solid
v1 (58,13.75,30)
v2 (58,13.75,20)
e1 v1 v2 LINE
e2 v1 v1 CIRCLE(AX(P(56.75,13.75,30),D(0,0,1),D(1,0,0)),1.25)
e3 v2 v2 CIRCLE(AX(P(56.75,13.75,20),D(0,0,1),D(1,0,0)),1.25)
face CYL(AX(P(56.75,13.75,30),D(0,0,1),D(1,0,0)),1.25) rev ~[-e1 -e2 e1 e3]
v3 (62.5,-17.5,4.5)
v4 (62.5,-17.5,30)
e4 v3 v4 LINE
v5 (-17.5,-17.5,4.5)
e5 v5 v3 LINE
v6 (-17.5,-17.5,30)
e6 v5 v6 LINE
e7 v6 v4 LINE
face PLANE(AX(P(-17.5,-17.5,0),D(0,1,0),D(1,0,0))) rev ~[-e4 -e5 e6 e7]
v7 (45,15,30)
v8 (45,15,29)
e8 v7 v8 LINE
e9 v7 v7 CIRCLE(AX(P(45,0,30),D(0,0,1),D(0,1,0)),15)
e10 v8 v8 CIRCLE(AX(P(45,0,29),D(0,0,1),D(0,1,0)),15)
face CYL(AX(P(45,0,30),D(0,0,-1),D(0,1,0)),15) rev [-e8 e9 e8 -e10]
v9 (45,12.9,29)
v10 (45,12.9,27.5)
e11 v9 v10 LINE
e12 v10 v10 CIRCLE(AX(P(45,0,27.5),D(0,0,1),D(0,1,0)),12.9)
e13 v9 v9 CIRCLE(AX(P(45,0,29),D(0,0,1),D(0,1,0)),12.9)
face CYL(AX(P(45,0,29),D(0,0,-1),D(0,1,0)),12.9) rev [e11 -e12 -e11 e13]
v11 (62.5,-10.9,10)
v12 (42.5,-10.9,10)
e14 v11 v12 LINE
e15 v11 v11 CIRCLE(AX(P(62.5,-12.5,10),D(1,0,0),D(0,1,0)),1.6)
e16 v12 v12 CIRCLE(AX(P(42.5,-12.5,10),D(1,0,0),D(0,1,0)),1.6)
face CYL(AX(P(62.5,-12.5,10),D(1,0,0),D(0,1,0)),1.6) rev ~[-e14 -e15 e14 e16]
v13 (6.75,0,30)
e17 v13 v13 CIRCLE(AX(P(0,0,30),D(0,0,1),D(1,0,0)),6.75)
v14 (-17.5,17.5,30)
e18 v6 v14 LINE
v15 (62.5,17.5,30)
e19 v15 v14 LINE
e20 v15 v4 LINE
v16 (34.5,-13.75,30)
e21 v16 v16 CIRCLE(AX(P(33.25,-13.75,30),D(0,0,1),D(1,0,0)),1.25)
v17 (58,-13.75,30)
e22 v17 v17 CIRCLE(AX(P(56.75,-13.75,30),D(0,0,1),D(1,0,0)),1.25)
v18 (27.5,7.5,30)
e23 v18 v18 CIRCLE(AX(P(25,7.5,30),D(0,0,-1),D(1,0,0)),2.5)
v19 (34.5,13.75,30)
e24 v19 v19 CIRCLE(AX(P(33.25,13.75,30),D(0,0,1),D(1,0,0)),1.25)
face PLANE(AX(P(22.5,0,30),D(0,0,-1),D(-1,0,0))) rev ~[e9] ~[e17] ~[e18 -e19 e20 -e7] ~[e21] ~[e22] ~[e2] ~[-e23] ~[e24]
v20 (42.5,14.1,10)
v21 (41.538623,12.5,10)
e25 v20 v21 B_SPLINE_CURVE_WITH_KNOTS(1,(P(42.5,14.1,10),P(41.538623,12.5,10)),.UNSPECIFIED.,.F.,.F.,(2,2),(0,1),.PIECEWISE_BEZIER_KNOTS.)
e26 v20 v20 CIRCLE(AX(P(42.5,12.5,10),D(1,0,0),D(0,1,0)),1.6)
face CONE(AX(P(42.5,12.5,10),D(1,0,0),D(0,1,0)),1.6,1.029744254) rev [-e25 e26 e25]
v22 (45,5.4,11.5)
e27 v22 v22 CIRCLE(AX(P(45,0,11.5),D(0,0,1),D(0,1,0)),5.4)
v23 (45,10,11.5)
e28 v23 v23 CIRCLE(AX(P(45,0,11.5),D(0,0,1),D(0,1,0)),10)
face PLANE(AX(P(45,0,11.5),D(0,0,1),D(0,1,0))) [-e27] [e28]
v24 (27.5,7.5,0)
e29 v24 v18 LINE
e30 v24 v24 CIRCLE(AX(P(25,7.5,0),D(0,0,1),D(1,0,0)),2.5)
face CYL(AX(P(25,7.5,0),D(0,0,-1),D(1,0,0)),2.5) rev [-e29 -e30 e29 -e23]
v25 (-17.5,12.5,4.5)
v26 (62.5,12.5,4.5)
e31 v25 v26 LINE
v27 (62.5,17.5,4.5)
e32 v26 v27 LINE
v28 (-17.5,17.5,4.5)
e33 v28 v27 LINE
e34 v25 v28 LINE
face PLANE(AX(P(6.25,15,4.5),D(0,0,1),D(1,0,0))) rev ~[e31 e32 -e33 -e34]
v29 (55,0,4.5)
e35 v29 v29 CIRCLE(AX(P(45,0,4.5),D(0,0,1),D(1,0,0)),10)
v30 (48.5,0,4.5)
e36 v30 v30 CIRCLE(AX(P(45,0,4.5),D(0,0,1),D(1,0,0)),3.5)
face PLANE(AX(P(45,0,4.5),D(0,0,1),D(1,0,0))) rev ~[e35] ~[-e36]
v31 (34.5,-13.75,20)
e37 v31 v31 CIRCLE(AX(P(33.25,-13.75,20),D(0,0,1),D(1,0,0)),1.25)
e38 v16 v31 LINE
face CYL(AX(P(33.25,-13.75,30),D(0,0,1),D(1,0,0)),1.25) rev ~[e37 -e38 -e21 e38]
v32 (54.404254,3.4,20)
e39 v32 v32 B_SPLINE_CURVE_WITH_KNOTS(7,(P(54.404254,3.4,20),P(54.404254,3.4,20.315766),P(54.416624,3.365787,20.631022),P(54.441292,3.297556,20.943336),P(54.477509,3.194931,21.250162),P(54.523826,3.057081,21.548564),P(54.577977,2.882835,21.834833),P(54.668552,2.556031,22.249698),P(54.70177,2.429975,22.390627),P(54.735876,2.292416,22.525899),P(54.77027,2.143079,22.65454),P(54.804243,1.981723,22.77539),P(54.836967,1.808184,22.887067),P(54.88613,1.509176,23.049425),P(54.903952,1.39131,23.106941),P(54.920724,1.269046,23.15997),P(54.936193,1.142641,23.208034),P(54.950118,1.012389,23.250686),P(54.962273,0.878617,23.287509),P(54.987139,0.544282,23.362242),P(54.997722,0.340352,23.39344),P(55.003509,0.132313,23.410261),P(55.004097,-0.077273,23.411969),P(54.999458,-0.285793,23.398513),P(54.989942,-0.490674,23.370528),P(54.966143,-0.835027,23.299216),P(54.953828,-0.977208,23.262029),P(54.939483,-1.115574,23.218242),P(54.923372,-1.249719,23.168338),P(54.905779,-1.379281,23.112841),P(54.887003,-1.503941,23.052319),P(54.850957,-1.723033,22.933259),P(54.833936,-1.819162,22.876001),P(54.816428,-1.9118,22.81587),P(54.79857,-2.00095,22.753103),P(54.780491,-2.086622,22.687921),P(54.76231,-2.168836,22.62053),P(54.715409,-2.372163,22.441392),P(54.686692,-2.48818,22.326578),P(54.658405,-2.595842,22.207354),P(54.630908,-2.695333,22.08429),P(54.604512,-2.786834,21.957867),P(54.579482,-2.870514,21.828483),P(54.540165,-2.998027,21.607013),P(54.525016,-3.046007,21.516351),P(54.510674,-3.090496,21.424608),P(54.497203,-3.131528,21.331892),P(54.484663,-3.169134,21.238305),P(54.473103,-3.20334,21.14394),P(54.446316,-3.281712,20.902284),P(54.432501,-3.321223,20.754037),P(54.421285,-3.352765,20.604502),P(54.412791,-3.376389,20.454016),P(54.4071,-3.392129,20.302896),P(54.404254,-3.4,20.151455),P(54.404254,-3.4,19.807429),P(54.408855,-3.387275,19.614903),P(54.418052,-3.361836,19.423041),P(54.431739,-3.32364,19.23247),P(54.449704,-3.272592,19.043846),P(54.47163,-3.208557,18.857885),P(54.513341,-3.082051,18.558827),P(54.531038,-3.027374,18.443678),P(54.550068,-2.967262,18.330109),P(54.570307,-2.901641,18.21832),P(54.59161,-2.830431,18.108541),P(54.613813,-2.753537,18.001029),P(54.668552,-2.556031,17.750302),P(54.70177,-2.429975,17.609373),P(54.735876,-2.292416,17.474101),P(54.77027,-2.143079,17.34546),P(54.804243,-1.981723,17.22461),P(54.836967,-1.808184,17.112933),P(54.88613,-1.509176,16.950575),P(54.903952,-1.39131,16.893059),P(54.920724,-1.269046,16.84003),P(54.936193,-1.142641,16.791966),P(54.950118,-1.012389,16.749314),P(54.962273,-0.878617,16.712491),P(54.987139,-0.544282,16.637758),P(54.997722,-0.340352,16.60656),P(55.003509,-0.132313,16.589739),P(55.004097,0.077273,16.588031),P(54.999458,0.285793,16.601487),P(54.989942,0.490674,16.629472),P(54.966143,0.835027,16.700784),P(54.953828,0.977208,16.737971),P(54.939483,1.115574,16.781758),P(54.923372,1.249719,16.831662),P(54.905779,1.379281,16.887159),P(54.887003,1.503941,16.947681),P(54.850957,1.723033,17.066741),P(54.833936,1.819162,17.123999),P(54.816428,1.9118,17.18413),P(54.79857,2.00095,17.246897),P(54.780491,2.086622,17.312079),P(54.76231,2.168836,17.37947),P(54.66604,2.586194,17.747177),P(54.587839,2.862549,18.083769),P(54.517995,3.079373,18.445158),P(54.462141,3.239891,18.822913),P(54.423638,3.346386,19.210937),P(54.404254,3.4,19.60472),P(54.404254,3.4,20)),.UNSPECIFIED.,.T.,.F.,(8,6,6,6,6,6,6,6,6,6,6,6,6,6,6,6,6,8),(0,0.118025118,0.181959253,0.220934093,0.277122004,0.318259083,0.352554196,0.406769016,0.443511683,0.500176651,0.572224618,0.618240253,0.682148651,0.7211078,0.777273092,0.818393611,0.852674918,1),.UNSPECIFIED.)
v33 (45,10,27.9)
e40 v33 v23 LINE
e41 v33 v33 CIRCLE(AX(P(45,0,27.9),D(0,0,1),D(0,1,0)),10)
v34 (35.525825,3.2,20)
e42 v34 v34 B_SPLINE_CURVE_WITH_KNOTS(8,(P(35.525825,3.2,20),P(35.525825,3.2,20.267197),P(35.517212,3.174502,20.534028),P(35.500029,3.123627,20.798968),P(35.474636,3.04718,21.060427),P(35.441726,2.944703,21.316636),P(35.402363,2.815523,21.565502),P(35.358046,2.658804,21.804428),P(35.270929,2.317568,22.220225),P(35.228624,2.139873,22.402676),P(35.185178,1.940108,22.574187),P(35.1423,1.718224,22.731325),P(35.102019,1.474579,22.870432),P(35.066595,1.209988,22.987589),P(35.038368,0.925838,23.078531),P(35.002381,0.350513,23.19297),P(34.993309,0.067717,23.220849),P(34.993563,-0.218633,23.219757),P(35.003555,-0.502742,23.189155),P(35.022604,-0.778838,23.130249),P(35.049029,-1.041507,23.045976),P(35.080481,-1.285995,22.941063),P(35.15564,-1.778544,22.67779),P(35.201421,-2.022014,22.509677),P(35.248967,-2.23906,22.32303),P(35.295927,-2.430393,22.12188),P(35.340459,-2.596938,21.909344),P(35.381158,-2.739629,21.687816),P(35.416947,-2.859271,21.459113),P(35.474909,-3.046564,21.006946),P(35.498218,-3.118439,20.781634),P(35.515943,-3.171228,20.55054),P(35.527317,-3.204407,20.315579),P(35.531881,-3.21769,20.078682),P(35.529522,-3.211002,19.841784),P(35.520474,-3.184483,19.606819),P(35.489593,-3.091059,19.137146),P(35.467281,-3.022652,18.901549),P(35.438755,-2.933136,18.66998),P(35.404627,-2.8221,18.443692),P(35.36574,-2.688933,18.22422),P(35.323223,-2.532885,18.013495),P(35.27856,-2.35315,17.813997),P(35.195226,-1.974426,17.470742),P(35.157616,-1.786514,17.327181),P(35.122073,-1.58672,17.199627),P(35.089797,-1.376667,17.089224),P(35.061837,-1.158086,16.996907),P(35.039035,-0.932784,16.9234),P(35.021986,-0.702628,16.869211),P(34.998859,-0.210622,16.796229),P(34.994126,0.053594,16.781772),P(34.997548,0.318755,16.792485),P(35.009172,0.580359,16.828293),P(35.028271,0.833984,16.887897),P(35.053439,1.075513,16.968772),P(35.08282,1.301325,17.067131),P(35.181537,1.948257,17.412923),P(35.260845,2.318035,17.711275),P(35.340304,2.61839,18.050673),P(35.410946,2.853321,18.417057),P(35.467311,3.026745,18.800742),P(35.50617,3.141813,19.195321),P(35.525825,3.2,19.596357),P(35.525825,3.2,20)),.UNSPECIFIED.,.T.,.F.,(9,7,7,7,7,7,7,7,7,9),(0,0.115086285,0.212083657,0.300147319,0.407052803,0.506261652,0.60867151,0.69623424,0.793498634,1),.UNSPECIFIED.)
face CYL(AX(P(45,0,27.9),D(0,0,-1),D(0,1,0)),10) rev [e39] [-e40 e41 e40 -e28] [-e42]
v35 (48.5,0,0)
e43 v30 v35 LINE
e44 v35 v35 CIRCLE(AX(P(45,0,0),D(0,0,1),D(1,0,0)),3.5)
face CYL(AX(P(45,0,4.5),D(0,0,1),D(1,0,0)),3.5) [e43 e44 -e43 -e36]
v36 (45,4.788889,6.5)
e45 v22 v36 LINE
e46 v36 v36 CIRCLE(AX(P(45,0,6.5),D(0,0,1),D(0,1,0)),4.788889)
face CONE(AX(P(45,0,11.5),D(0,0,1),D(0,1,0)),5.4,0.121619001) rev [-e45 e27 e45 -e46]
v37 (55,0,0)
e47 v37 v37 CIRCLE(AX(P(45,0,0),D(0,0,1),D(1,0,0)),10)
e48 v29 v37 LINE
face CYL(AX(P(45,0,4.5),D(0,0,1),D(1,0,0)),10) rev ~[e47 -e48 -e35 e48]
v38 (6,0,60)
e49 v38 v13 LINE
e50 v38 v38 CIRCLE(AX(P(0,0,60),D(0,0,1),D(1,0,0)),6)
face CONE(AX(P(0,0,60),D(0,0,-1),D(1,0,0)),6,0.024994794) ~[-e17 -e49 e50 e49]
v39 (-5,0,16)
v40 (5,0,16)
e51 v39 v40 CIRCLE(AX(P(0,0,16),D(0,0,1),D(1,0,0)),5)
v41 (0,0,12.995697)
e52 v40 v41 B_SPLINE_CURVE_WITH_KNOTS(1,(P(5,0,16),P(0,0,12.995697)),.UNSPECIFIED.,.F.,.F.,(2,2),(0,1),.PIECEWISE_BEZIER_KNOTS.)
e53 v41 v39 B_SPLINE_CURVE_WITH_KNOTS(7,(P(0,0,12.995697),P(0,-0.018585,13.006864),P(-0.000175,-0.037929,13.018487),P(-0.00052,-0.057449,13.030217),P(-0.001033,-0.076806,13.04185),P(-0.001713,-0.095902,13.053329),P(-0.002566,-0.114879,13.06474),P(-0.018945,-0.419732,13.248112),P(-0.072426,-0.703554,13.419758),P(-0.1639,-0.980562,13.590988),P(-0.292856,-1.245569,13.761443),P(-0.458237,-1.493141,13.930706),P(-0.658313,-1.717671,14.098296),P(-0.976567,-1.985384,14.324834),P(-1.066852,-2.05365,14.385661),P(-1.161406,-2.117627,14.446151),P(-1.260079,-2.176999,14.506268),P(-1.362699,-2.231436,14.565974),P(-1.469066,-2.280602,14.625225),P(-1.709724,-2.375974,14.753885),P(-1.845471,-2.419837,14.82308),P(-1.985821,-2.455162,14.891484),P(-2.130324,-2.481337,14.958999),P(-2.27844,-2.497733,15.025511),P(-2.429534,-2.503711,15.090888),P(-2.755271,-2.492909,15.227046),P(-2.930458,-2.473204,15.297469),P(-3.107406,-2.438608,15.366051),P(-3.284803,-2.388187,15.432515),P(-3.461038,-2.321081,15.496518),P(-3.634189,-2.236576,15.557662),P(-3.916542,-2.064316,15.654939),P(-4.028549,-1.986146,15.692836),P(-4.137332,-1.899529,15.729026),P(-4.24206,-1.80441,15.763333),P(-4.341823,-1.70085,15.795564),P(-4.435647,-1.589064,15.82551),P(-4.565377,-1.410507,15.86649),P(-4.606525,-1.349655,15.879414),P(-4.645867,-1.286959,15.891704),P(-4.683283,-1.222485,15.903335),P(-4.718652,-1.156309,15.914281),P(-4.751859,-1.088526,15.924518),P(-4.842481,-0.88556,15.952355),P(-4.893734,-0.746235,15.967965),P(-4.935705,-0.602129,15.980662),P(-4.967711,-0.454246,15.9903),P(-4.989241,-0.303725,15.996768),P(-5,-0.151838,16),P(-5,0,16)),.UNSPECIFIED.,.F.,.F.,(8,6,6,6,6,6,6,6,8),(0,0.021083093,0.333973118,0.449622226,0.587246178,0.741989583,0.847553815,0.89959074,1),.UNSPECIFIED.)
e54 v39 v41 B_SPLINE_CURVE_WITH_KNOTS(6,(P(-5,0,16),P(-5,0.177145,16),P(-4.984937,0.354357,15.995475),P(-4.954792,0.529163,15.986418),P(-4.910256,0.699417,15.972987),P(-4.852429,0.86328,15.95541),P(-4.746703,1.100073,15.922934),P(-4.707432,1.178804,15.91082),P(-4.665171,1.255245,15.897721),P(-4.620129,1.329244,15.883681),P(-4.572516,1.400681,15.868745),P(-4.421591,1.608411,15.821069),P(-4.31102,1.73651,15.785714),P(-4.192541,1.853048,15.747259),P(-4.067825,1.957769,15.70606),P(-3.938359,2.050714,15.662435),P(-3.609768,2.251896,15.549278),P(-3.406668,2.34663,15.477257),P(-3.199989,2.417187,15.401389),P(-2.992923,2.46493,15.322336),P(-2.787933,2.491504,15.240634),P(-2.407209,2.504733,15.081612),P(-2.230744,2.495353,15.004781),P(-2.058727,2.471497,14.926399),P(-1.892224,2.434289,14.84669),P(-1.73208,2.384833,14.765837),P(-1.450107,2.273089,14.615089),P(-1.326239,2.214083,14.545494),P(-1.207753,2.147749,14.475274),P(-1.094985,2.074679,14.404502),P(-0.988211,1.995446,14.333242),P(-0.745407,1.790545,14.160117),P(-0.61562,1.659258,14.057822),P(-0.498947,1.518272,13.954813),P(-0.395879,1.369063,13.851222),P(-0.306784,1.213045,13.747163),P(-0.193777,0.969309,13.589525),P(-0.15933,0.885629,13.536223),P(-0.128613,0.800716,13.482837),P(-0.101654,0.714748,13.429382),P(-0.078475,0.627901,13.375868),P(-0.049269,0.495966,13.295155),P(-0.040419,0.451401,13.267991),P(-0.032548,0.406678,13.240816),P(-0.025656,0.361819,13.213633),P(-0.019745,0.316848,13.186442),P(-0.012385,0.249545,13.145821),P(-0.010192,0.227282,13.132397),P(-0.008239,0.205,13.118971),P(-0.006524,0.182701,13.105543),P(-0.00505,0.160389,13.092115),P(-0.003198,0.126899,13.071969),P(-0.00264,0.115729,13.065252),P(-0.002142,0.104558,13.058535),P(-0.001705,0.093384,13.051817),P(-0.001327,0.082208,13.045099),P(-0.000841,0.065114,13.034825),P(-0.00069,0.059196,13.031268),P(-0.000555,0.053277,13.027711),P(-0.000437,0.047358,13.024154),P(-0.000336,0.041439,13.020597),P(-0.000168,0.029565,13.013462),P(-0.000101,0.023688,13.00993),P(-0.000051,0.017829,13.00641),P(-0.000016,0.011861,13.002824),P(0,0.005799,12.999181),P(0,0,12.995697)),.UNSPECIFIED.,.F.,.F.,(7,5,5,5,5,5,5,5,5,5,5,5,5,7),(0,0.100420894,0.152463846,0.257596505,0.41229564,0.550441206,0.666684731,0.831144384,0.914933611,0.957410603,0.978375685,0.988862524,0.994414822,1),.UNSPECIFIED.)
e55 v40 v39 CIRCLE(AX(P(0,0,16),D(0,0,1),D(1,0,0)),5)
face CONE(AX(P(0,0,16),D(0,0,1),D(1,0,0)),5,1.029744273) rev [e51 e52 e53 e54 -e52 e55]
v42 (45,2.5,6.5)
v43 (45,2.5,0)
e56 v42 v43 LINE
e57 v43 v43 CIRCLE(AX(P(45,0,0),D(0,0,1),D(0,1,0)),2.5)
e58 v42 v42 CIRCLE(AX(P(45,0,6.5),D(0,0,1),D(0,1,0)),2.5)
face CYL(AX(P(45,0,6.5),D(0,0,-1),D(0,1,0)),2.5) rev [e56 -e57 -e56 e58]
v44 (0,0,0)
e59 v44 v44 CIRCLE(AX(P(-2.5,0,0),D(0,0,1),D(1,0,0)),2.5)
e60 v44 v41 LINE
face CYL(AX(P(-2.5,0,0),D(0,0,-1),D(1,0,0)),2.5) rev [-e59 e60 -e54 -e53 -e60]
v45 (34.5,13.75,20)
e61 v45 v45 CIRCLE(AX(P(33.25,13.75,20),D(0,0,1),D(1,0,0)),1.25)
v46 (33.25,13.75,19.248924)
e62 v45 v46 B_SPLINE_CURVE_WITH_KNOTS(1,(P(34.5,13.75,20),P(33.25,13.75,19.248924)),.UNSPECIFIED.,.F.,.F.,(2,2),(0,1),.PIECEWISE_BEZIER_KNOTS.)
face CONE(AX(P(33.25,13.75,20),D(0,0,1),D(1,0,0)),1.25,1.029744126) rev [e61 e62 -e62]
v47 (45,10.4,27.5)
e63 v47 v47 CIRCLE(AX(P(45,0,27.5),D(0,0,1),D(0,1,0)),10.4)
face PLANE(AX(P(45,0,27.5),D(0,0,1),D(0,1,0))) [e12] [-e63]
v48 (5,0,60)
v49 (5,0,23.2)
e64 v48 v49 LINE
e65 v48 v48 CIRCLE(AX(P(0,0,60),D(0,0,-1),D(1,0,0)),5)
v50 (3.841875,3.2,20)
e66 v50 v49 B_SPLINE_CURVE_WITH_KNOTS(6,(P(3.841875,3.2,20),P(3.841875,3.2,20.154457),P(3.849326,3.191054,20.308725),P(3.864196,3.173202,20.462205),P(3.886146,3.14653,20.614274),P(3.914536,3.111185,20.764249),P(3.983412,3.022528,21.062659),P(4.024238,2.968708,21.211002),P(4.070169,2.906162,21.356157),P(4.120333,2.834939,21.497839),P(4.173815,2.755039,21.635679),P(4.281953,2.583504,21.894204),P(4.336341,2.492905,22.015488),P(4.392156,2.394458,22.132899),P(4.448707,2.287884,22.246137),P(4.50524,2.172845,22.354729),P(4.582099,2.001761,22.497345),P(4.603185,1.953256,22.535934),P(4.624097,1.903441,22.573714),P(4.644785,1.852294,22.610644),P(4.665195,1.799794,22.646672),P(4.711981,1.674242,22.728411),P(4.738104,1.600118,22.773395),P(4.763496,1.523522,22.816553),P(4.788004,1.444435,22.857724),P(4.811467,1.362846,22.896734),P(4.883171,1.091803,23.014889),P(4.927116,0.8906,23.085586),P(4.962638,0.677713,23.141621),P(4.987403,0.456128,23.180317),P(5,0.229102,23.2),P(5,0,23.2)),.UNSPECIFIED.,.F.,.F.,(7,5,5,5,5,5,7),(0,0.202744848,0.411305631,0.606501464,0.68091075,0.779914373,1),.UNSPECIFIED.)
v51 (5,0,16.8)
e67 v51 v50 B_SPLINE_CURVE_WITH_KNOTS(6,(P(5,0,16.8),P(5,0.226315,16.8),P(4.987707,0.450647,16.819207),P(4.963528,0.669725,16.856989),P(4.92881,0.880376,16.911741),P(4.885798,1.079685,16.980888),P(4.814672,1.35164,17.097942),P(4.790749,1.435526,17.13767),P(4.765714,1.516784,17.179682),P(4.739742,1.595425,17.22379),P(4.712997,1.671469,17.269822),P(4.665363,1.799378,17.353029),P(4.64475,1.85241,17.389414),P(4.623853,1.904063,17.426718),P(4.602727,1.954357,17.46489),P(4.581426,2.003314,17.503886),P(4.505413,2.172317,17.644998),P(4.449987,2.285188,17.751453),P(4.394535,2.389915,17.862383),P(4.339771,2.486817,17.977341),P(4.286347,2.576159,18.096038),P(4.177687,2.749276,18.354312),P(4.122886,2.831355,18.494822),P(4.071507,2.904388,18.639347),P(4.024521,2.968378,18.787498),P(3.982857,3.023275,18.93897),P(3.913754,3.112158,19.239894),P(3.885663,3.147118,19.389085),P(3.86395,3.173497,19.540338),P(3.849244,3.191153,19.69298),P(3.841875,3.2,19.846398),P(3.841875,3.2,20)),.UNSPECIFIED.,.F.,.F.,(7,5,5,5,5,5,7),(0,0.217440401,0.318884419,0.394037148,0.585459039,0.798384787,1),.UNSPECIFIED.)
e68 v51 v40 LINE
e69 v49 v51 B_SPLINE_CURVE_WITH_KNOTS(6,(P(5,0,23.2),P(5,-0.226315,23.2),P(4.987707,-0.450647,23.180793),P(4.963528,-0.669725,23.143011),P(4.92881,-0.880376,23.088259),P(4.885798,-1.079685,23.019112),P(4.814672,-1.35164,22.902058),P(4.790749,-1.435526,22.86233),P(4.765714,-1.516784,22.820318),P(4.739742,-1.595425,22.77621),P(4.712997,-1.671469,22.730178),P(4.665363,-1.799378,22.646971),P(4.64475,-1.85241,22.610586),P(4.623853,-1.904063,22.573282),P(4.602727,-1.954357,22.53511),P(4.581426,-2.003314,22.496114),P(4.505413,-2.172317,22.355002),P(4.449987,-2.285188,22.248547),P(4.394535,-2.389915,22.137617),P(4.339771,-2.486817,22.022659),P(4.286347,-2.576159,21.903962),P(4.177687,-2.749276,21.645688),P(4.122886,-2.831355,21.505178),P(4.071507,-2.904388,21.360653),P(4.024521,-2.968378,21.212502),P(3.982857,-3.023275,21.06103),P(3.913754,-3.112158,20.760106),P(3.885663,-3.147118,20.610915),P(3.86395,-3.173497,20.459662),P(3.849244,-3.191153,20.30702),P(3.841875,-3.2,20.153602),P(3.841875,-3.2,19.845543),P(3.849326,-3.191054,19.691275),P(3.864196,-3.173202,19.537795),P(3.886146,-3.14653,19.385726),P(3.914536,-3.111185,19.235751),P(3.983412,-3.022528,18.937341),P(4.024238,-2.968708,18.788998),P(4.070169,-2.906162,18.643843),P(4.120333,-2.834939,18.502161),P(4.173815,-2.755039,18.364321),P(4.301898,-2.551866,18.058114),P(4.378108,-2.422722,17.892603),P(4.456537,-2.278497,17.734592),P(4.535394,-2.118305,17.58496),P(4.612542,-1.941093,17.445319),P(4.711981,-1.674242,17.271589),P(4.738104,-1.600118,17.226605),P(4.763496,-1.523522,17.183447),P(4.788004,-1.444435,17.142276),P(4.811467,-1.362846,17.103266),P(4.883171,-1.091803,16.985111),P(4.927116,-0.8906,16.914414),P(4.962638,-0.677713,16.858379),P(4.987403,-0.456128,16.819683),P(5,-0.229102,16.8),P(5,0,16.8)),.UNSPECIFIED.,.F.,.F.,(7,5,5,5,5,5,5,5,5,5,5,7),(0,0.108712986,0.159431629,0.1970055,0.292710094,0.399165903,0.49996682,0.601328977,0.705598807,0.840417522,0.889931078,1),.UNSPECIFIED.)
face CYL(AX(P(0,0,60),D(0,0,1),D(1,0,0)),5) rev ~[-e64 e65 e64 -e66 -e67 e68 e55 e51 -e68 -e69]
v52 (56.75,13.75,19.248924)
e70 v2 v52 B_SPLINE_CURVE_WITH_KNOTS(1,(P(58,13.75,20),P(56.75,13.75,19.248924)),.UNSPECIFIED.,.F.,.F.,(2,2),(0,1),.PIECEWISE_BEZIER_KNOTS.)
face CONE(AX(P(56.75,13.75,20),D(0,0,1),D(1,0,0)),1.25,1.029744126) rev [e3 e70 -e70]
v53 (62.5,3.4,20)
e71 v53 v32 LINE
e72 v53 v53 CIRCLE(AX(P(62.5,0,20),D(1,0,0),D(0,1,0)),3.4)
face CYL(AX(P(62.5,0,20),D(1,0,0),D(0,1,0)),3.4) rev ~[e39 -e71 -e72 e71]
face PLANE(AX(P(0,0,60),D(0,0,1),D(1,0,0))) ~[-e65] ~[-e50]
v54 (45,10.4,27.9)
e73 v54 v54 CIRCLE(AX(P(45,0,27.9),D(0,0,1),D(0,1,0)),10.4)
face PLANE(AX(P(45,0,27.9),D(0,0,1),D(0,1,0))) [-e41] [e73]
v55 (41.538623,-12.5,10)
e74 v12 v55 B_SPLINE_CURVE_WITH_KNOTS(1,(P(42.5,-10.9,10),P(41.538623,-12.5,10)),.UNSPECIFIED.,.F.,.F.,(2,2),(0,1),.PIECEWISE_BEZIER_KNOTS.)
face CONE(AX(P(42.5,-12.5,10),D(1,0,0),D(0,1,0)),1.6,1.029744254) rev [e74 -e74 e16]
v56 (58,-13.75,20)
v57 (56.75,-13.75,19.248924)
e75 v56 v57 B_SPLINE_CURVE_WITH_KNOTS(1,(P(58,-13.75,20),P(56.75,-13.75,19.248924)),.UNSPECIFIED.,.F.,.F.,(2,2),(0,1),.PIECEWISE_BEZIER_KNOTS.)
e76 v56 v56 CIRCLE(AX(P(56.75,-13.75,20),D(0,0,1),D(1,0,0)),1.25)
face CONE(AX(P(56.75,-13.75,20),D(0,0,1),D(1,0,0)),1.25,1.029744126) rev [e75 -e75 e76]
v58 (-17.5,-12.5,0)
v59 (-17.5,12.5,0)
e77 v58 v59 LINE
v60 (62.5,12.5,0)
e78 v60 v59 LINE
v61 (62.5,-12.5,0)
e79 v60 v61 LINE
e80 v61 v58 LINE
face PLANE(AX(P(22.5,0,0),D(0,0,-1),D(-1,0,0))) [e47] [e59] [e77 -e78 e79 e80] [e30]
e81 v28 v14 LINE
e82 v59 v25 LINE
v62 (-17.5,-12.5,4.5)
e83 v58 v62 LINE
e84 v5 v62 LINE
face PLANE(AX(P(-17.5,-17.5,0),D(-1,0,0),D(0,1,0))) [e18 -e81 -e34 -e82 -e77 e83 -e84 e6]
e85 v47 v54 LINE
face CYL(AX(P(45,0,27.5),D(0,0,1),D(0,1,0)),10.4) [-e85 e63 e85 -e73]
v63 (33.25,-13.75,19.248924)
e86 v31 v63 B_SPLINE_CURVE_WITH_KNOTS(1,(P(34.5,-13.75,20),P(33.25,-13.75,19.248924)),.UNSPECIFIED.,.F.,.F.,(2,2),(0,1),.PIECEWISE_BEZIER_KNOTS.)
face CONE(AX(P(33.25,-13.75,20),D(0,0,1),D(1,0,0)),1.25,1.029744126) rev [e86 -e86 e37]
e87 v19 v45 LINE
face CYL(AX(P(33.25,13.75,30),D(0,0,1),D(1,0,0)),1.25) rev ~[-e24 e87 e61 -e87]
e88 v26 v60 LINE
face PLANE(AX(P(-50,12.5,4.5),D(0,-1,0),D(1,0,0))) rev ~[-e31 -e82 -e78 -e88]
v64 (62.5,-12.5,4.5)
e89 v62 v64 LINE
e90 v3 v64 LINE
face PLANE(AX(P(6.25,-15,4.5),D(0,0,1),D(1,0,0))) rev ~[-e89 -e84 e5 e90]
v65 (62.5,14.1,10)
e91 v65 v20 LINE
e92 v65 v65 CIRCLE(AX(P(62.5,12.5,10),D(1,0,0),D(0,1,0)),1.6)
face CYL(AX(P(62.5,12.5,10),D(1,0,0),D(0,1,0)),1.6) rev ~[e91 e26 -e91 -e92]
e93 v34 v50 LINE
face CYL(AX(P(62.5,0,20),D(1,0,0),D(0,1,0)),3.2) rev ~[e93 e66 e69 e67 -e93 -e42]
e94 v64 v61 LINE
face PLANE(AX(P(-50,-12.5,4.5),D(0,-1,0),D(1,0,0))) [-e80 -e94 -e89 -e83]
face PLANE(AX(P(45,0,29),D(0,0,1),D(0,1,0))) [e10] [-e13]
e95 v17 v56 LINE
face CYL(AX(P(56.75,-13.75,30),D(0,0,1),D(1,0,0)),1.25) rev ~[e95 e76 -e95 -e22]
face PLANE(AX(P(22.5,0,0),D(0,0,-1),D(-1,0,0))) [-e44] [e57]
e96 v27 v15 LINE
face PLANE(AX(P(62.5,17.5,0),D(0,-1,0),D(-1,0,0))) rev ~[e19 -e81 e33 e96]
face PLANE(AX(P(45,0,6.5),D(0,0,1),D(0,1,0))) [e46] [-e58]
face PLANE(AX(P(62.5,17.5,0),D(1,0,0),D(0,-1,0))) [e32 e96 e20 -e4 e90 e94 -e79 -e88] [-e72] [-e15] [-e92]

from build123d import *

# Parameters (mm, degrees)
PAD_DEPTH       = 30
SKETCH003_R     = 5
HOLE_DEPTH      = 44
HOLE_TIPS_R     = 5
SKETCH005_R     = 2.5
HOLE001_DEPTH   = 60.001
SKETCH011_R     = 3.2
HOLE002_DEPTH   = 60
HOLE002_TIPS_R  = 3.2
SKETCH013_R     = 1.25
HOLE003_DEPTH   = 10
HOLE003_TIPS_R  = 1.25
SKETCH014_R     = 3.4
HOLE004_DEPTH   = 20
HOLE004_TIPS_R  = 3.4
SKETCH015_R     = 10
SKETCH015_R_2   = 3.5
SKETCH015_W     = 112.5
SKETCH015_H     = 5
POCKET001_DEPTH = 5
SKETCH016_R     = 1.6
HOLE005_DEPTH   = 20
HOLE005_TIPS_R  = 1.6
SKETCH029_R     = 2.5
POCKET007_DEPTH = 60.001


with BuildPart() as part:
    # Sketch → Revolution (revolve)
    with BuildSketch(Plane.XZ):
        Polygon((6, 60), (6.75, 30), (0, 30), (0, 60), align=None)
    revolve(axis=Axis((0, 0, 0), (0, 0, 1)))

    # Sketch006 → Pad (new body)
    with BuildSketch(Plane.XY):
        Polygon((0, 17.5), (62.5, 17.5), (62.5, -17.5), (0, -17.5), (-17.5, -17.5), (-17.5, 17.5), align=None)
    extrude(amount=PAD_DEPTH)

    # Sketch003 → Hole (cut)
    with BuildSketch(Plane.XY.offset(60)):
        Circle(SKETCH003_R)
    extrude(amount=-HOLE_DEPTH, mode=Mode.SUBTRACT)

    # Hole tips → Hole tip 1 section 0
    with BuildSketch(Plane.XY.offset(16), mode=Mode.PRIVATE) as hole_tip_1_s0:
        Circle(HOLE_TIPS_R)
    loft([hole_tip_1_s0.sketch, Vertex(0, 0, 12.995697)], mode=Mode.SUBTRACT)

    # Sketch005 → Hole001 (cut, through all)
    with BuildSketch(Plane.XY):
        with Locations((-2.5, 0)):
            Circle(SKETCH005_R)
    extrude(amount=HOLE001_DEPTH, mode=Mode.SUBTRACT)

    # Sketch011 → Hole002 (cut)
    with BuildSketch(Plane.YZ.offset(62.5)):
        with Locations((0, 20)):
            Circle(SKETCH011_R)
    extrude(amount=-HOLE002_DEPTH, mode=Mode.SUBTRACT)

    # Hole002 tips → Hole002 tip 1 section 0
    with BuildSketch(Plane.YZ.offset(2.5), mode=Mode.PRIVATE) as hole002_tip_1_s0:
        with Locations((0, 20)):
            Circle(HOLE002_TIPS_R)
    loft([hole002_tip_1_s0.sketch, Vertex(0.577246, 0, 20)], mode=Mode.SUBTRACT)

    # Sketch012 → Groove (revolve, cut)
    with BuildSketch(Plane.YZ.offset(45)):
        Polygon((15, 30), (15, 29), (12.9, 29), (12.9, 27.5), (10.4, 27.5), (10.4, 27.9), (10, 27.9), (10, 11.5), (5.4, 11.5), (4.788889, 6.5), (2.5, 6.5), (2.5, 0), (0, 0), (0, 30), align=None)
    revolve(axis=Axis((45, 0, 0), (0, 0, 1)), mode=Mode.SUBTRACT)

    # Sketch013 → Hole003 (cut)
    with BuildSketch(Plane.XY.offset(30)):
        with Locations((33.25, 13.75)):
            Circle(SKETCH013_R)
        with Locations((56.75, 13.75)):
            Circle(SKETCH013_R)
        with Locations((33.25, -13.75)):
            Circle(SKETCH013_R)
        with Locations((56.75, -13.75)):
            Circle(SKETCH013_R)
    extrude(amount=-HOLE003_DEPTH, mode=Mode.SUBTRACT)

    # Hole003 tips → Hole003 tip 1 section 0
    with BuildSketch(Plane.XY.offset(20), mode=Mode.PRIVATE) as hole003_tip_1_s0:
        with Locations((33.25, 13.75)):
            Circle(HOLE003_TIPS_R)
    loft([hole003_tip_1_s0.sketch, Vertex(33.25, 13.75, 19.248924)], mode=Mode.SUBTRACT)

    # Hole003 tips → Hole003 tip 2 section 0
    with BuildSketch(Plane.XY.offset(20), mode=Mode.PRIVATE) as hole003_tip_2_s0:
        with Locations((56.75, 13.75)):
            Circle(HOLE003_TIPS_R)
    loft([hole003_tip_2_s0.sketch, Vertex(56.75, 13.75, 19.248924)], mode=Mode.SUBTRACT)

    # Hole003 tips → Hole003 tip 3 section 0
    with BuildSketch(Plane.XY.offset(20), mode=Mode.PRIVATE) as hole003_tip_3_s0:
        with Locations((33.25, -13.75)):
            Circle(HOLE003_TIPS_R)
    loft([hole003_tip_3_s0.sketch, Vertex(33.25, -13.75, 19.248924)], mode=Mode.SUBTRACT)

    # Hole003 tips → Hole003 tip 4 section 0
    with BuildSketch(Plane.XY.offset(20), mode=Mode.PRIVATE) as hole003_tip_4_s0:
        with Locations((56.75, -13.75)):
            Circle(HOLE003_TIPS_R)
    loft([hole003_tip_4_s0.sketch, Vertex(56.75, -13.75, 19.248924)], mode=Mode.SUBTRACT)

    # Sketch014 → Hole004 (cut)
    with BuildSketch(Plane.YZ.offset(62.5)):
        with Locations((0, 20)):
            Circle(SKETCH014_R)
    extrude(amount=-HOLE004_DEPTH, mode=Mode.SUBTRACT)

    # Hole004 tips → Hole004 tip 1 section 0
    with BuildSketch(Plane.YZ.offset(42.5), mode=Mode.PRIVATE) as hole004_tip_1_s0:
        with Locations((0, 20)):
            Circle(HOLE004_TIPS_R)
    loft([hole004_tip_1_s0.sketch, Vertex(40.457074, 0, 20)], mode=Mode.SUBTRACT)

    # Sketch015 → Pocket001 (cut)
    with BuildSketch(Plane.XY.offset(4.5)):
        with Locations((45, 0)):
            Circle(SKETCH015_R)
        with Locations((45, 0)):
            Circle(SKETCH015_R_2, mode=Mode.SUBTRACT)
        with Locations((6.25, 15)):
            Rectangle(SKETCH015_W, SKETCH015_H)
        with Locations((6.25, -15)):
            Rectangle(SKETCH015_W, SKETCH015_H)
    extrude(amount=-POCKET001_DEPTH, mode=Mode.SUBTRACT)

    # Sketch016 → Hole005 (cut)
    with BuildSketch(Plane.YZ.offset(62.5)):
        with Locations((-12.5, 10)):
            Circle(SKETCH016_R)
        with Locations((12.5, 10)):
            Circle(SKETCH016_R)
    extrude(amount=-HOLE005_DEPTH, mode=Mode.SUBTRACT)

    # Hole005 tips → Hole005 tip 1 section 0
    with BuildSketch(Plane.YZ.offset(42.5), mode=Mode.PRIVATE) as hole005_tip_1_s0:
        with Locations((-12.5, 10)):
            Circle(HOLE005_TIPS_R)
    loft([hole005_tip_1_s0.sketch, Vertex(41.538623, -12.5, 10)], mode=Mode.SUBTRACT)

    # Hole005 tips → Hole005 tip 2 section 0
    with BuildSketch(Plane.YZ.offset(42.5), mode=Mode.PRIVATE) as hole005_tip_2_s0:
        with Locations((12.5, 10)):
            Circle(HOLE005_TIPS_R)
    loft([hole005_tip_2_s0.sketch, Vertex(41.538623, 12.5, 10)], mode=Mode.SUBTRACT)

    # Sketch029 → Pocket007 (cut, through all)
    with BuildSketch(Plane.XY):
        with Locations((25, 7.5)):
            Circle(SKETCH029_R)
    extrude(amount=POCKET007_DEPTH, mode=Mode.SUBTRACT)


solid = part.part
